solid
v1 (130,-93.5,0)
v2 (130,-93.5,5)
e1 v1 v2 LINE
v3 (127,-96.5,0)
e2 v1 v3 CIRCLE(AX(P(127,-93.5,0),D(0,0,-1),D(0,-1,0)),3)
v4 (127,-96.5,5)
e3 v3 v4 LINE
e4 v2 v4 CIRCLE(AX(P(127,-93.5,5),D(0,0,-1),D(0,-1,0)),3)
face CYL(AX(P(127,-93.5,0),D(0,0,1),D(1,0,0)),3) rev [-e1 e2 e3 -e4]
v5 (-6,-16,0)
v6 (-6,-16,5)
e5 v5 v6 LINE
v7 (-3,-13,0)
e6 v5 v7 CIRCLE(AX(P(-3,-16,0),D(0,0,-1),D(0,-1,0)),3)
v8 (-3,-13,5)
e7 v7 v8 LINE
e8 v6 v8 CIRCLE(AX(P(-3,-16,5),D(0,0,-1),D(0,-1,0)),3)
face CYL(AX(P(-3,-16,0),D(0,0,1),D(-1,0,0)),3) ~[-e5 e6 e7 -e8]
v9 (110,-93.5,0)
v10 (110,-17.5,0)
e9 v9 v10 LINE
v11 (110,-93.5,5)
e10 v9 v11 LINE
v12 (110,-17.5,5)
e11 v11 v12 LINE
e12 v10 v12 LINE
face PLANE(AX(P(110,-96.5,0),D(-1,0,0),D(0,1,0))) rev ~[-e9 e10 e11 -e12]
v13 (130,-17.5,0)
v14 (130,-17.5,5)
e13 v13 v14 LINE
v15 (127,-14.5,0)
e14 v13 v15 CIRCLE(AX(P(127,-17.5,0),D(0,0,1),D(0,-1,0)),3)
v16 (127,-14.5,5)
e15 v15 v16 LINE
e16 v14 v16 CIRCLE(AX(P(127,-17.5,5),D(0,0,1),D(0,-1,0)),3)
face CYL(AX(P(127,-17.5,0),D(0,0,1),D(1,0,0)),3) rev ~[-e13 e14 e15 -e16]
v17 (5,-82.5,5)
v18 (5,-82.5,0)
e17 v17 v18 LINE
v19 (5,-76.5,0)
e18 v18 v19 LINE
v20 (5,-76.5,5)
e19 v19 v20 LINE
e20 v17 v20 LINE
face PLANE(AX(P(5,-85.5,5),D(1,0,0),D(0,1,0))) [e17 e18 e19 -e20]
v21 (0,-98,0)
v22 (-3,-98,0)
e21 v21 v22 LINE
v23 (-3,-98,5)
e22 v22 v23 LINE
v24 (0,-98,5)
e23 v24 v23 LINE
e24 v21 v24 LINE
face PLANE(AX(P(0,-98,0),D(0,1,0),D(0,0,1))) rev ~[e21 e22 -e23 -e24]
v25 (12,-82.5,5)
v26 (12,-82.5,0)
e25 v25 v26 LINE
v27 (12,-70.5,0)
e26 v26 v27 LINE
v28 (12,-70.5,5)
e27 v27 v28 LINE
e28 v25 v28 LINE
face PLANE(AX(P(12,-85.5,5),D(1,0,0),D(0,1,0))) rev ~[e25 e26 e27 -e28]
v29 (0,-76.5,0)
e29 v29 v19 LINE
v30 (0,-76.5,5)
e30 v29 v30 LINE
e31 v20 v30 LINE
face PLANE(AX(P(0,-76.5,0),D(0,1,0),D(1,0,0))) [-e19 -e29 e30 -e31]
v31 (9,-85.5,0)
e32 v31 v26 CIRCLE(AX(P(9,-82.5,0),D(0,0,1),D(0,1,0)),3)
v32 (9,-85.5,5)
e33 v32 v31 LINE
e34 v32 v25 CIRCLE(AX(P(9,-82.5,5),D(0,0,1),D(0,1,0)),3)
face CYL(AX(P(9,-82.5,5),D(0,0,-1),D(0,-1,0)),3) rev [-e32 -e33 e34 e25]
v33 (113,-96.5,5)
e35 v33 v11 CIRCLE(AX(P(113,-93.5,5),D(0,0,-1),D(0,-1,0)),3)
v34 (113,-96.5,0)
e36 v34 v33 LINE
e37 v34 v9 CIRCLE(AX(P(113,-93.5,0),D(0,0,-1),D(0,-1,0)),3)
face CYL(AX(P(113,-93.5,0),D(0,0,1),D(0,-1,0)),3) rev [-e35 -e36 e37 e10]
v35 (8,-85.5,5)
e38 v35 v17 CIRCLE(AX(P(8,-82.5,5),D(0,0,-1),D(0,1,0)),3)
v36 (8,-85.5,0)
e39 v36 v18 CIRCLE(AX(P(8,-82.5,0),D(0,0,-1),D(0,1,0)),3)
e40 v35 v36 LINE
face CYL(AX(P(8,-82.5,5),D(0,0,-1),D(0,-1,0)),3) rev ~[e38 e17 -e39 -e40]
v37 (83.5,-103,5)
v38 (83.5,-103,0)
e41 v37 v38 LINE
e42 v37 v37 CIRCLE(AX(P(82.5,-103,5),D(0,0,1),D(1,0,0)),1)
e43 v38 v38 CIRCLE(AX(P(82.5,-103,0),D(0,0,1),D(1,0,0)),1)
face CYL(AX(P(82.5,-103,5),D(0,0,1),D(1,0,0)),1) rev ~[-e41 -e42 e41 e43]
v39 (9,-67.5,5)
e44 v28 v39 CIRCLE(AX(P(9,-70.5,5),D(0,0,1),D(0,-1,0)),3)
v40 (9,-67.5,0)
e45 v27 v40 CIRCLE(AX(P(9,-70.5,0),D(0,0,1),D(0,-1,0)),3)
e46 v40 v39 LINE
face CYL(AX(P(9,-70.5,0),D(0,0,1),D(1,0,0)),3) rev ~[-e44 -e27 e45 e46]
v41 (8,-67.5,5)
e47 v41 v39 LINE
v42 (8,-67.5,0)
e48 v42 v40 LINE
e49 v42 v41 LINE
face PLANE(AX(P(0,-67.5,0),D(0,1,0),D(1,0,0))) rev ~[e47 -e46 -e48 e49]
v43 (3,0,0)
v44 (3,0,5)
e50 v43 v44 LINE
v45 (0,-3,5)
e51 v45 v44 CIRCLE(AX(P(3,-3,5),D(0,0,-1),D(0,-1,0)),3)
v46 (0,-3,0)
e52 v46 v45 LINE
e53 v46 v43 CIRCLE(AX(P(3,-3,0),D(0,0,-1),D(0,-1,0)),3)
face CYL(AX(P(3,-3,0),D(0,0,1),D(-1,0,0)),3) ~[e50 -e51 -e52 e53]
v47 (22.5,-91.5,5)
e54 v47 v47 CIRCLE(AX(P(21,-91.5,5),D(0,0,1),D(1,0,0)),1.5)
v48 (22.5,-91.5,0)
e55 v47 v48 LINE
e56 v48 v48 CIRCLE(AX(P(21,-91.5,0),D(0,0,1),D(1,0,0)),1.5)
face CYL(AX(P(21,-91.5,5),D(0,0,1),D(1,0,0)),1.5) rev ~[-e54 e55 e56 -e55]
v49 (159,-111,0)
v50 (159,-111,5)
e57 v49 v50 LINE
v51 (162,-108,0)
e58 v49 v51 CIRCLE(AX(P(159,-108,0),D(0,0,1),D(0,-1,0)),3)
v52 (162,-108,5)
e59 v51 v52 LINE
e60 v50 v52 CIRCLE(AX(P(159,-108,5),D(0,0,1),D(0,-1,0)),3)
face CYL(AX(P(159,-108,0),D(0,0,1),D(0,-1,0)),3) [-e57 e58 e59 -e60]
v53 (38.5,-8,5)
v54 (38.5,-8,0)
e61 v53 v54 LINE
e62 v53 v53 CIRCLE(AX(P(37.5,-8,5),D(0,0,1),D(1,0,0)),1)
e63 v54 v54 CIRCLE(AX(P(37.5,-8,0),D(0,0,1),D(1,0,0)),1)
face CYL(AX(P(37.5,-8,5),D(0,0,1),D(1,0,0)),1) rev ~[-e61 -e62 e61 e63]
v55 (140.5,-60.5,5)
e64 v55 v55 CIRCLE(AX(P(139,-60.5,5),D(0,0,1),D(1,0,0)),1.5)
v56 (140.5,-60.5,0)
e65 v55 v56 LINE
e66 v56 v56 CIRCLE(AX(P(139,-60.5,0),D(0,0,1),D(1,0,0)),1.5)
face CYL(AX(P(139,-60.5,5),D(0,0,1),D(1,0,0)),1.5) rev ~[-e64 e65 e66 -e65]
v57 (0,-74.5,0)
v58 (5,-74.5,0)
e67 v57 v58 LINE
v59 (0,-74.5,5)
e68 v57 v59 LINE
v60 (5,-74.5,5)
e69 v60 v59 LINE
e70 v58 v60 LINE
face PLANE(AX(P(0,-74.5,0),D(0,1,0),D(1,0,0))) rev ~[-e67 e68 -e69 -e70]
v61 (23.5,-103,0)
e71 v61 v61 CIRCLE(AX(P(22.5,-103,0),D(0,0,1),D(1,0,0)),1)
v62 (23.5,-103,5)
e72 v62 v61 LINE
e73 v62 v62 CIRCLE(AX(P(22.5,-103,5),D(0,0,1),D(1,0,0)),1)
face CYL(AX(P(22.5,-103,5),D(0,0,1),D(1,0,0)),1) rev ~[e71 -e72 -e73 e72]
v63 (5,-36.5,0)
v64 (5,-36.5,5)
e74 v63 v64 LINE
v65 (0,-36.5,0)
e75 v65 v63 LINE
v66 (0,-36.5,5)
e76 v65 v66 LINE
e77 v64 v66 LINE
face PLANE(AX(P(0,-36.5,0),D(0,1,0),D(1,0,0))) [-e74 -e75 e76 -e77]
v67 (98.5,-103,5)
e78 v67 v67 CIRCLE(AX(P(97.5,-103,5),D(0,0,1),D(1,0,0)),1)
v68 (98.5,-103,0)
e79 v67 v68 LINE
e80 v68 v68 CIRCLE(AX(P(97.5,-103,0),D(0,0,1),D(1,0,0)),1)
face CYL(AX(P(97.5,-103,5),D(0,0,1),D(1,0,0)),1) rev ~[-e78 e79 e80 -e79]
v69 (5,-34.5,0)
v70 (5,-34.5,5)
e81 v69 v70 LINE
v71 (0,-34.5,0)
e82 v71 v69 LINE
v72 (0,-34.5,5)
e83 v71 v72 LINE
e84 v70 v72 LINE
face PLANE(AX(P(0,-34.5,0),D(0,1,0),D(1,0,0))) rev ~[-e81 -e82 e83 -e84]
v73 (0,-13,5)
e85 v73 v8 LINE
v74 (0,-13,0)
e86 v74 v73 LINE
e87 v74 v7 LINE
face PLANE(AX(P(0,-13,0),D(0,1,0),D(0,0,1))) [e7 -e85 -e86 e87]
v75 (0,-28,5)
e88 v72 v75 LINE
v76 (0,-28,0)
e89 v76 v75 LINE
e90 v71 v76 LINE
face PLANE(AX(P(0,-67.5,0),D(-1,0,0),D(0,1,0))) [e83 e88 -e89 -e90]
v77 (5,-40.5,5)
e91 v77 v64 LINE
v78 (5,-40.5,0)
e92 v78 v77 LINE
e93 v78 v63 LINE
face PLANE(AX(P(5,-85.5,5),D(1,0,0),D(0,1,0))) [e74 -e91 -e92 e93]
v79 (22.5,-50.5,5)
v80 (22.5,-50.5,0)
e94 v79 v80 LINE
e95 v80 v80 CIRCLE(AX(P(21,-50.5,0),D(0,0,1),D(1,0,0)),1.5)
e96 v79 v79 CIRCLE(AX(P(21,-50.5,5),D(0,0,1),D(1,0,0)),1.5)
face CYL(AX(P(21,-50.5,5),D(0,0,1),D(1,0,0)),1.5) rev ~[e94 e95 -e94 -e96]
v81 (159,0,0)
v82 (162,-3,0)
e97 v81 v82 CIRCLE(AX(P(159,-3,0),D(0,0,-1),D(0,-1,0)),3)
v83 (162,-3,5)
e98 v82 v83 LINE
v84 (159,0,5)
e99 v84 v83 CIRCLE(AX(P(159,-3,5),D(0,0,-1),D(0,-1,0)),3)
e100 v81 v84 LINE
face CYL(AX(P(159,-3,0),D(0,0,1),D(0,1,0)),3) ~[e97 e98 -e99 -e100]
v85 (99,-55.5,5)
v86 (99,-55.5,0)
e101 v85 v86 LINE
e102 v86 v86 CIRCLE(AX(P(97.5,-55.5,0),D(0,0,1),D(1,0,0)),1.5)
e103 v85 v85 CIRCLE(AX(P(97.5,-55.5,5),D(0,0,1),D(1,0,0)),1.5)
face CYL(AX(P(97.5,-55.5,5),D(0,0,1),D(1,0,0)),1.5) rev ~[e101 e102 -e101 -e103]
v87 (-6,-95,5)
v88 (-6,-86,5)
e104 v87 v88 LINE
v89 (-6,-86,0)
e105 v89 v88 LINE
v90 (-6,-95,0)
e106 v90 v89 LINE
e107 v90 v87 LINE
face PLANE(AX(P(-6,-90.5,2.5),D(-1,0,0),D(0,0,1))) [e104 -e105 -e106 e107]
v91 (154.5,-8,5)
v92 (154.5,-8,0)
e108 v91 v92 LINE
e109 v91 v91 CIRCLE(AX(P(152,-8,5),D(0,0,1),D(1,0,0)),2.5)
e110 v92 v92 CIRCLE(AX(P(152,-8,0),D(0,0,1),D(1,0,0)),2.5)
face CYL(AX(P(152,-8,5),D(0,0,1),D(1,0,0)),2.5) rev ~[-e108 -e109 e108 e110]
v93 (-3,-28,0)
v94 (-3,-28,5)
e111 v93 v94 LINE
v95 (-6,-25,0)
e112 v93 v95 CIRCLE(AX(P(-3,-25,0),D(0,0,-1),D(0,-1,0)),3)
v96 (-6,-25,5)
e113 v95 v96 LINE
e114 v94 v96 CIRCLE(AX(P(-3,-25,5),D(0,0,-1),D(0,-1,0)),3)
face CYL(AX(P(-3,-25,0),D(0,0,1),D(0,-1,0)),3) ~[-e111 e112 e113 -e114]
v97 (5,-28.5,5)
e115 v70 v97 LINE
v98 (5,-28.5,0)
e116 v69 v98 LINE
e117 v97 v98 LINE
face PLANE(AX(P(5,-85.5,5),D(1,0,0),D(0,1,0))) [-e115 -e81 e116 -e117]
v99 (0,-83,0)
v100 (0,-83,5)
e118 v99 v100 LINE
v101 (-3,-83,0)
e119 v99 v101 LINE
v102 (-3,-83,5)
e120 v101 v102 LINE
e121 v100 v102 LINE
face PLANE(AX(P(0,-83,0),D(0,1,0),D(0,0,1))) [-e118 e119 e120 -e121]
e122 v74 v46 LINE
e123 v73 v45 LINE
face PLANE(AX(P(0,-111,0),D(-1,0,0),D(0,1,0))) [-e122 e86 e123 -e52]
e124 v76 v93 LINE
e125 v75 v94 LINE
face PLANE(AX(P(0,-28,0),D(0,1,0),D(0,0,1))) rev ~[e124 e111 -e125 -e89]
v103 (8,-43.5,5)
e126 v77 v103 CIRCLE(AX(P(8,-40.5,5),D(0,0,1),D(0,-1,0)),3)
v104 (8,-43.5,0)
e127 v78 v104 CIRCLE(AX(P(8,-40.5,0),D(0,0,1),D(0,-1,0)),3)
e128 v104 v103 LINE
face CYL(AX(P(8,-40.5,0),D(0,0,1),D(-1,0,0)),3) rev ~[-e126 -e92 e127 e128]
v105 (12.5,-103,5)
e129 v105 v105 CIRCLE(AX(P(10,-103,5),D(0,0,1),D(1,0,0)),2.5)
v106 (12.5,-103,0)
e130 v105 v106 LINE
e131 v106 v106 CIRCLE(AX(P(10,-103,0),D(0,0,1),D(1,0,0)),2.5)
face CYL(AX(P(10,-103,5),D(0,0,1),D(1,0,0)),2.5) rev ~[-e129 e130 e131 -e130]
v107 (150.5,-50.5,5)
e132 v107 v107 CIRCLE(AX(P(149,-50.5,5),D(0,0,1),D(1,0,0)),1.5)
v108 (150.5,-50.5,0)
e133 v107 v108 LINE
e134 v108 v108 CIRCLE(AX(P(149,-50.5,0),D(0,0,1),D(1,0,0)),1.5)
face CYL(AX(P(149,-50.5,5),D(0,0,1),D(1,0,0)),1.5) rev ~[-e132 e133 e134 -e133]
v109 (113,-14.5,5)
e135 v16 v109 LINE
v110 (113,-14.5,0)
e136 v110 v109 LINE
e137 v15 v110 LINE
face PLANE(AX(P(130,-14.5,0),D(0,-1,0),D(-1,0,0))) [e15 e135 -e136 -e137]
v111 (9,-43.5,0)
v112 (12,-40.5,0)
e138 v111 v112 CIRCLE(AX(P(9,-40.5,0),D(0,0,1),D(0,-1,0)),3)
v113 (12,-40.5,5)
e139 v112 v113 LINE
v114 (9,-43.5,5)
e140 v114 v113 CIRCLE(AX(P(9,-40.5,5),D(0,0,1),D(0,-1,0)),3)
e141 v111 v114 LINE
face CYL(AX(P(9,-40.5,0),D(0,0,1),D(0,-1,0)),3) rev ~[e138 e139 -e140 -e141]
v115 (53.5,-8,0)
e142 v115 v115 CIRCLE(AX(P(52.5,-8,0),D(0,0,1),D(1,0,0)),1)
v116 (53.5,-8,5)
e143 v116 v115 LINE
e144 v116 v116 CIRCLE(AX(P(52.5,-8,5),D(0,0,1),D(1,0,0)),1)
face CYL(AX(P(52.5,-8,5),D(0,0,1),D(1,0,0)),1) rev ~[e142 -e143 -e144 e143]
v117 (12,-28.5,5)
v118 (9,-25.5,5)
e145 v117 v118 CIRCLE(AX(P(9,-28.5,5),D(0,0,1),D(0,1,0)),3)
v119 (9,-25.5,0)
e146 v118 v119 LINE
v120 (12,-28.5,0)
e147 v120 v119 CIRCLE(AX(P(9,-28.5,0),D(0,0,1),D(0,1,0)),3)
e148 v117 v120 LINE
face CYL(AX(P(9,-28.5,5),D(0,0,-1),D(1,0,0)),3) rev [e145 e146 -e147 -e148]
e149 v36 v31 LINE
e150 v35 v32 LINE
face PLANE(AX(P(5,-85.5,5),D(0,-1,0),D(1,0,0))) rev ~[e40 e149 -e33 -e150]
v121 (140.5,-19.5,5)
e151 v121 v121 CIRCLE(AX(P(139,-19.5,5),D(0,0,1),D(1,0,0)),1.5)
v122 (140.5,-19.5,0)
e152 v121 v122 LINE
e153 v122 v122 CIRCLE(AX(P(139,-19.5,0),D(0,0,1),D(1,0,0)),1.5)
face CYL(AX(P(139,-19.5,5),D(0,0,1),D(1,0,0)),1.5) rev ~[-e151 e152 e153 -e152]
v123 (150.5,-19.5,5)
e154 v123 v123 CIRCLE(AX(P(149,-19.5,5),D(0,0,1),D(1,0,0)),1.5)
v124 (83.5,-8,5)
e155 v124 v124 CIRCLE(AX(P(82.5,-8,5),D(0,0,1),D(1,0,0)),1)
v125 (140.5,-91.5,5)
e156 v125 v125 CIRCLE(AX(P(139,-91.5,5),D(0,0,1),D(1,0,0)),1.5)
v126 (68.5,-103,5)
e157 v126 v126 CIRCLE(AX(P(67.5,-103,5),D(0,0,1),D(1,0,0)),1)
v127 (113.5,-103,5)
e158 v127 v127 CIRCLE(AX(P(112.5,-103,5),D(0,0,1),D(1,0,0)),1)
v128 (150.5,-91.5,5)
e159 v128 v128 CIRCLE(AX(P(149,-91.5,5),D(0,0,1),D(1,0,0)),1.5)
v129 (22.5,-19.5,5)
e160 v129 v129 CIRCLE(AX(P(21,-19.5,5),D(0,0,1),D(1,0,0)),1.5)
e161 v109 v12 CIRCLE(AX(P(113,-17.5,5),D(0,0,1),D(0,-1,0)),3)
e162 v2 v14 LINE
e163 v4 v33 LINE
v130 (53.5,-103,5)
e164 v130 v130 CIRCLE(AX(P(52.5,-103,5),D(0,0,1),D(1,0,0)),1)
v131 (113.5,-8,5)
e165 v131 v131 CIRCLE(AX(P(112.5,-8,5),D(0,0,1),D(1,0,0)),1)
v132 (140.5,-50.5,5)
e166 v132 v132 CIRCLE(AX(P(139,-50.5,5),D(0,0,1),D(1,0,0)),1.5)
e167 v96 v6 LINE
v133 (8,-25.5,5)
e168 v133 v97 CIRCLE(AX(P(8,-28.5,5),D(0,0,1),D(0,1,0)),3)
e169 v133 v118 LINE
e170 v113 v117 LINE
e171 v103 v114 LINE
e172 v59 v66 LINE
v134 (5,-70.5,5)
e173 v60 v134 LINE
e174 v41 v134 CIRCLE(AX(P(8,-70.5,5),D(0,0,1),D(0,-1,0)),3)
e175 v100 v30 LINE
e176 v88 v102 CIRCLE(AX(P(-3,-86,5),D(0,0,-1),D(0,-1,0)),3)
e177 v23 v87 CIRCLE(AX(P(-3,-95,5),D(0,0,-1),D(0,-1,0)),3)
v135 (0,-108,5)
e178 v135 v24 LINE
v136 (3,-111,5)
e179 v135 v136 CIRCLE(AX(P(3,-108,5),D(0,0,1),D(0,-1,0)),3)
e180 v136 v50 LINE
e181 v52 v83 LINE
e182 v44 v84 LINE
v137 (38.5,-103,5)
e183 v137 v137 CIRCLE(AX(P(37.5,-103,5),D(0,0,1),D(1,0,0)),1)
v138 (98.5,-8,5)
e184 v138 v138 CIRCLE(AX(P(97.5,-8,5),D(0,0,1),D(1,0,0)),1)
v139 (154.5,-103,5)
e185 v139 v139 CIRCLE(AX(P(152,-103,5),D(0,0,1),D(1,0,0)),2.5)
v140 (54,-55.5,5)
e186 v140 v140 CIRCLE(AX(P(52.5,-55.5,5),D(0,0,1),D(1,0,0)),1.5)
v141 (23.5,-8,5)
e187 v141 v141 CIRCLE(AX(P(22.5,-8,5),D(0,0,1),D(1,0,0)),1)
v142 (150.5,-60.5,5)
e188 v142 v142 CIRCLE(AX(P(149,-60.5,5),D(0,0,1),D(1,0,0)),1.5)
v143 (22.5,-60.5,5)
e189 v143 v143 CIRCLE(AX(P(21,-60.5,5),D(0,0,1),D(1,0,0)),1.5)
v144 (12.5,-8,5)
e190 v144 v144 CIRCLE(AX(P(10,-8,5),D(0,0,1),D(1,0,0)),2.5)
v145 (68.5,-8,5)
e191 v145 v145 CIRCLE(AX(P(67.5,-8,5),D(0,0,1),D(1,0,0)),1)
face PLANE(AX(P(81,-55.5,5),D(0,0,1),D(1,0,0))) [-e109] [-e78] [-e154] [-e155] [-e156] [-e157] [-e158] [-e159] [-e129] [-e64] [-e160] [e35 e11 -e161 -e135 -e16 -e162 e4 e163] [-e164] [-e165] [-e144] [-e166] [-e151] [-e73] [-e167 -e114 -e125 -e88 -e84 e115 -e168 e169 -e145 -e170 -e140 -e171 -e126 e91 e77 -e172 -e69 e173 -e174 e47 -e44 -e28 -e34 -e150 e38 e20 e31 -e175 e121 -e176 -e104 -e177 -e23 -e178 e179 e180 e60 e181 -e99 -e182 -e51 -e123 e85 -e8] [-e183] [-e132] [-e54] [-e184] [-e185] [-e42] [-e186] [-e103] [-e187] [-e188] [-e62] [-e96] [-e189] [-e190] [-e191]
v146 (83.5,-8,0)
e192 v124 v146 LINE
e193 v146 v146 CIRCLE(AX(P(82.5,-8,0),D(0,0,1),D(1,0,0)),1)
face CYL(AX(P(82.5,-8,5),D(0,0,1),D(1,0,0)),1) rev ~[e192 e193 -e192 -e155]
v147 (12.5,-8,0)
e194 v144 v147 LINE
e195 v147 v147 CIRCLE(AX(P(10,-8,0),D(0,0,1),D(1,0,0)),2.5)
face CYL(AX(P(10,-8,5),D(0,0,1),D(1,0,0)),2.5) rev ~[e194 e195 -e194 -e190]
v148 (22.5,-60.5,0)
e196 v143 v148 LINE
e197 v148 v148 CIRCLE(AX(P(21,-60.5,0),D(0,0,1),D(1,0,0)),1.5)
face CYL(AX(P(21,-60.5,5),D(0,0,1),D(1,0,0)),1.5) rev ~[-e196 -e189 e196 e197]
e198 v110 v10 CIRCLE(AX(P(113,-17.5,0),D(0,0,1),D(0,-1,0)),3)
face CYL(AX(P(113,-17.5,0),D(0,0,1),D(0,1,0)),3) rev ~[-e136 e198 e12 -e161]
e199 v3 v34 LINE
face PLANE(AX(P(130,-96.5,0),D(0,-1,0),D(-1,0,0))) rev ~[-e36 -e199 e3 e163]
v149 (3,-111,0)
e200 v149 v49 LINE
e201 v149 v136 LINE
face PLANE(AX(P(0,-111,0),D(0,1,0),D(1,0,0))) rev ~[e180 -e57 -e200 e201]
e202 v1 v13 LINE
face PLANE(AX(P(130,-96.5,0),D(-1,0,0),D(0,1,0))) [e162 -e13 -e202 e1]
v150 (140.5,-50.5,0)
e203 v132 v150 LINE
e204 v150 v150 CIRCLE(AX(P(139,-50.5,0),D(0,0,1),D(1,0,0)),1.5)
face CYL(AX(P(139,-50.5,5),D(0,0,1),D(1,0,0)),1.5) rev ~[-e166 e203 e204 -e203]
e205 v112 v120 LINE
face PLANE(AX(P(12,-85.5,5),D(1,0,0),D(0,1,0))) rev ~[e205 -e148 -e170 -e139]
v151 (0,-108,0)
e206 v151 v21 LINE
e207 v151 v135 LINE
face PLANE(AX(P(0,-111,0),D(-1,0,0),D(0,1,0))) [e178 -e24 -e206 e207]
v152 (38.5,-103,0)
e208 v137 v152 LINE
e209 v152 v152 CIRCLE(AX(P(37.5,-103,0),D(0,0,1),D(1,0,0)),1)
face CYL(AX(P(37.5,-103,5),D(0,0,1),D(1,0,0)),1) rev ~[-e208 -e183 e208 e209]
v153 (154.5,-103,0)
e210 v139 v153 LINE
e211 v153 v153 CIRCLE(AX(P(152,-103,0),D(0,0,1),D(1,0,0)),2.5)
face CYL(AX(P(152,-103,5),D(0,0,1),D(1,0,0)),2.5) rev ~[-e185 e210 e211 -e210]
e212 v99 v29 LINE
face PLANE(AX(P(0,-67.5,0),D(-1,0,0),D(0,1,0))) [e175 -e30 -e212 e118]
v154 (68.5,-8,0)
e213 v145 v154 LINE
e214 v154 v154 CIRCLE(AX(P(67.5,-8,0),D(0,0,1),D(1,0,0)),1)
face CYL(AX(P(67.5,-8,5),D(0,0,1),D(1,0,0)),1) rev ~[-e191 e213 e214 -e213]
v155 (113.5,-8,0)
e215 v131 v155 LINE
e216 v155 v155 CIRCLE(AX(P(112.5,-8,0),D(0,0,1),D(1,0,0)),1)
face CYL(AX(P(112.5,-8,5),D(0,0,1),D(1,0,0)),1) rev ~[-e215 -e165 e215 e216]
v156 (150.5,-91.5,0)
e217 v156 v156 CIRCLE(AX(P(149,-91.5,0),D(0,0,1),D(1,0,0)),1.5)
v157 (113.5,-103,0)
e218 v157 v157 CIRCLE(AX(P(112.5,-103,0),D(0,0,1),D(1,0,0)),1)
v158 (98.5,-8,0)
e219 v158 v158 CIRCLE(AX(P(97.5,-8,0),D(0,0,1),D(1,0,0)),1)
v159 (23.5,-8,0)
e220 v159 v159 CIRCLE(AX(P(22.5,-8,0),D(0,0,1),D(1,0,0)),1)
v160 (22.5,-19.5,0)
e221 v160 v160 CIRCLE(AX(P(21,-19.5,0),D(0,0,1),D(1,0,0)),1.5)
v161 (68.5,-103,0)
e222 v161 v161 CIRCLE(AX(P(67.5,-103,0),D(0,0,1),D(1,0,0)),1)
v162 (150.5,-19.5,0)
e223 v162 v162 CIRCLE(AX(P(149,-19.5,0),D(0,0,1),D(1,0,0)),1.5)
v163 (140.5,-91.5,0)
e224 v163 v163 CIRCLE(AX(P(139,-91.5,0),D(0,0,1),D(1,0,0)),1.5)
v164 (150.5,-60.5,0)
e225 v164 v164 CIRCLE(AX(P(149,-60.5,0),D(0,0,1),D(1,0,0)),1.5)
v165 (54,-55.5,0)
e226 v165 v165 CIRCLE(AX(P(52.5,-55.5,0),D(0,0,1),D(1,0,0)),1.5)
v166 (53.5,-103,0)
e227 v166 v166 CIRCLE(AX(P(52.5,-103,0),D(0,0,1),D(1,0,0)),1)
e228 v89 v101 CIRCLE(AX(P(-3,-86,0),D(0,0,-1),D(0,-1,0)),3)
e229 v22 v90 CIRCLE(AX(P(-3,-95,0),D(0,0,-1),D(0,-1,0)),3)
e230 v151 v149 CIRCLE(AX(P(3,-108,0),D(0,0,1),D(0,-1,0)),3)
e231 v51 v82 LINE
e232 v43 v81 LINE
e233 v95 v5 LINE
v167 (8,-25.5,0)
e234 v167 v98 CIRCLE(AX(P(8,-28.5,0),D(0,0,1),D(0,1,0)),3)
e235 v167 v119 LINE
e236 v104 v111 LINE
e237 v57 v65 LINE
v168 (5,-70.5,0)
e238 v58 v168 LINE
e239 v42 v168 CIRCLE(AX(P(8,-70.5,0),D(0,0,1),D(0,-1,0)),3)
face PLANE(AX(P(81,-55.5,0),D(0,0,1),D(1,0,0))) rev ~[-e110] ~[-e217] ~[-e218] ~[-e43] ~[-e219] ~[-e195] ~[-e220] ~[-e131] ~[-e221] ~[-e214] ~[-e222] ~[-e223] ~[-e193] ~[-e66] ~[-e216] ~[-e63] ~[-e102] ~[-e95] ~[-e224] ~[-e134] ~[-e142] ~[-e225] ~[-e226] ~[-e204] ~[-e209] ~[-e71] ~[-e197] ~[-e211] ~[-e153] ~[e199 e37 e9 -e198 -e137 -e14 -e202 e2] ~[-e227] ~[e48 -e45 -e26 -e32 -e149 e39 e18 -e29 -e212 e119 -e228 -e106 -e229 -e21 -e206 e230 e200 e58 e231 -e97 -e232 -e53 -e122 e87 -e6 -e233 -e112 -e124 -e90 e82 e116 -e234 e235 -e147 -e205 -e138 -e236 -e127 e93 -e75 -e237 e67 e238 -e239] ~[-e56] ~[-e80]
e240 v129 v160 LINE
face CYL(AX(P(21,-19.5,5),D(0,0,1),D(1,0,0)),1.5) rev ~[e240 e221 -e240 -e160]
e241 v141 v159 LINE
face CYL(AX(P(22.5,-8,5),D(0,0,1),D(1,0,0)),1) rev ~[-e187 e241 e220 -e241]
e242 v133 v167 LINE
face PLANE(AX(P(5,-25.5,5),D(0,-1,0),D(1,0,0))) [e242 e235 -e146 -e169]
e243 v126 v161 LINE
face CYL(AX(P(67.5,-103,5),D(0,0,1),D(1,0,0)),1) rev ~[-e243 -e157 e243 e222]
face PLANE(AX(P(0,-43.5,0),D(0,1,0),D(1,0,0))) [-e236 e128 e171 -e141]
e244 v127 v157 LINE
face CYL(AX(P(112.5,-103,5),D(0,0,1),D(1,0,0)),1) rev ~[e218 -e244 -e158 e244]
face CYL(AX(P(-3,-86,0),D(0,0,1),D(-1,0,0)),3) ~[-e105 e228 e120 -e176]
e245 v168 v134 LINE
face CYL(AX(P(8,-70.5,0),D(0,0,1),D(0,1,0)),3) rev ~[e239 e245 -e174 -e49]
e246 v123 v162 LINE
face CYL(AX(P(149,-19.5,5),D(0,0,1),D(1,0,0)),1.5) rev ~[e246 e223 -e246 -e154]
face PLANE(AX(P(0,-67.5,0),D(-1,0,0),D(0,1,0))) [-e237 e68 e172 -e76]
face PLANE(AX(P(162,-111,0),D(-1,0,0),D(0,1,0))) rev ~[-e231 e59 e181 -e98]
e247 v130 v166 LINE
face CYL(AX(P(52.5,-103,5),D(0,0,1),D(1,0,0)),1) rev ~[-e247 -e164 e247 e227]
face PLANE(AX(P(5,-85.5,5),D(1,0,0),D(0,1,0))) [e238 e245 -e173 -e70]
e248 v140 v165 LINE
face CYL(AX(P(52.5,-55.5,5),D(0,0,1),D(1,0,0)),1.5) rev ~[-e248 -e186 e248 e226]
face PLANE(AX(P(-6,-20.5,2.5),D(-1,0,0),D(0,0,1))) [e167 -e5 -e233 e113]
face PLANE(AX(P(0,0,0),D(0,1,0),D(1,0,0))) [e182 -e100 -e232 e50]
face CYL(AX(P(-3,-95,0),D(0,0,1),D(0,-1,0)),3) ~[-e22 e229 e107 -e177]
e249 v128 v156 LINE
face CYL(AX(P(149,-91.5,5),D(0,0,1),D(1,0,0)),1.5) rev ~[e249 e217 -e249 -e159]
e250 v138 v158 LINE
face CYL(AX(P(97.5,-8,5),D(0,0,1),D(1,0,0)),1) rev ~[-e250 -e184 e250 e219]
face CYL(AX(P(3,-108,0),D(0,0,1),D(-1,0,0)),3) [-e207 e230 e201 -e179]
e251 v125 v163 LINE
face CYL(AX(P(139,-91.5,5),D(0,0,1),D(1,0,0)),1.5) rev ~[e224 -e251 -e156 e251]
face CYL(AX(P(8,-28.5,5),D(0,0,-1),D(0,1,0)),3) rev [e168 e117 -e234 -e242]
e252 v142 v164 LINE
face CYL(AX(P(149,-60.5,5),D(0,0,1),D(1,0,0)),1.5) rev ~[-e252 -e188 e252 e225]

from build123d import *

# Parameters (mm, degrees)
SKETCH_1_W          = 162
SKETCH_1_H          = 111
EXTRUDE_1_DEPTH     = 5
CUT_EXTRUDE_1_REACH = 198.443
SKETCH_2_W          = 20
SKETCH_2_H          = 82
SKETCH_3_R          = 1.5
SKETCH_3_R_2        = 1
SKETCH_3_R_3        = 2.5
SKETCH_3_W          = 7
SKETCH_3_H          = 60
CUT_EXTRUDE_2_DEPTH = 5
FILLET_1_R          = 3
SKETCH1_W           = 5
SKETCH1_H           = 15
BOSS_EXTRUDE1_DEPTH = 6
SKETCH2_W           = 12
SKETCH2_H           = 24
BOSS_EXTRUDE2_DEPTH = 5
SKETCH3_W           = 5
SKETCH3_H           = 2
CUT_EXTRUDE2_DEPTH  = 197.443376065
FILLET1_R           = 3


with BuildPart() as part:
    # 草图1 → 凸台-拉伸1 (new body)
    with BuildSketch(Plane.XY):
        with Locations((81, -55.5)):
            Rectangle(SKETCH_1_W, SKETCH_1_H)
    extrude(amount=EXTRUDE_1_DEPTH)

    # 草图2 → 切除-拉伸1 (cut, up to next)
    with BuildSketch(Plane(origin=(0, 0, 0), x_dir=(-1, 0, 0), z_dir=(0, 0, -1)), mode=Mode.PRIVATE) as cut_extrude_1_sk1:
        with Locations((-120, -55.5)):
            Rectangle(SKETCH_2_W, SKETCH_2_H)
    cut_extrude_1_tool1 = extrude(cut_extrude_1_sk1.sketch, amount=-CUT_EXTRUDE_1_REACH, mode=Mode.PRIVATE) & part.part
    add(cut_extrude_1_tool1.solids().sort_by_distance((120, -55.5, 0))[0], mode=Mode.SUBTRACT)

    # 草图3 → 切除-拉伸2 (cut)
    with BuildSketch(Plane.XY.offset(5)):
        with Locations((149, -60.5)):
            Circle(SKETCH_3_R)
        with Locations((139, -60.5)):
            Circle(SKETCH_3_R)
        with Locations((149, -91.5)):
            Circle(SKETCH_3_R)
        with Locations((139, -91.5)):
            Circle(SKETCH_3_R)
        with Locations((149, -50.5)):
            Circle(SKETCH_3_R)
        with Locations((139, -50.5)):
            Circle(SKETCH_3_R)
        with Locations((22.5, -103)):
            Circle(SKETCH_3_R_2)
        with Locations((22.5, -8)):
            Circle(SKETCH_3_R_2)
        with Locations((21, -60.5)):
            Circle(SKETCH_3_R)
        with Locations((21, -91.5)):
            Circle(SKETCH_3_R)
        with Locations((21, -50.5)):
            Circle(SKETCH_3_R)
        with Locations((21, -19.5)):
            Circle(SKETCH_3_R)
        with Locations((10, -8)):
            Circle(SKETCH_3_R_3)
        with Locations((152, -8)):
            Circle(SKETCH_3_R_3)
        with Locations((152, -103)):
            Circle(SKETCH_3_R_3)
        with Locations((10, -103)):
            Circle(SKETCH_3_R_3)
        with Locations((37.5, -103)):
            Circle(SKETCH_3_R_2)
        with Locations((52.5, -103)):
            Circle(SKETCH_3_R_2)
        with Locations((67.5, -103)):
            Circle(SKETCH_3_R_2)
        with Locations((82.5, -103)):
            Circle(SKETCH_3_R_2)
        with Locations((97.5, -103)):
            Circle(SKETCH_3_R_2)
        with Locations((37.5, -8)):
            Circle(SKETCH_3_R_2)
        with Locations((52.5, -8)):
            Circle(SKETCH_3_R_2)
        with Locations((67.5, -8)):
            Circle(SKETCH_3_R_2)
        with Locations((82.5, -8)):
            Circle(SKETCH_3_R_2)
        with Locations((97.5, -8)):
            Circle(SKETCH_3_R_2)
        with Locations((112.5, -8)):
            Circle(SKETCH_3_R_2)
        with Locations((139, -19.5)):
            Circle(SKETCH_3_R)
        with Locations((149, -19.5)):
            Circle(SKETCH_3_R)
        with Locations((112.5, -103)):
            Circle(SKETCH_3_R_2)
        with Locations((52.5, -55.5)):
            Circle(SKETCH_3_R)
        with Locations((97.5, -55.5)):
            Circle(SKETCH_3_R)
        with Locations((8.5, -55.5)):
            Rectangle(SKETCH_3_W, SKETCH_3_H)
    extrude(amount=-CUT_EXTRUDE_2_DEPTH, mode=Mode.SUBTRACT)

    # 圆角1
    fillet_1_edges = [part.edges().sort_by_distance(p)[0] for p in [
        (5, -25.5, 2.5),
        (12, -25.5, 2.5),
        (12, -85.5, 2.5),
        (5, -85.5, 2.5),
        (110, -96.5, 2.5),
        (130, -96.5, 2.5),
        (130, -14.5, 2.5),
        (110, -14.5, 2.5),
        (0, 0, 2.5),
        (162, 0, 2.5),
        (162, -111, 2.5),
        (0, -111, 2.5),
    ]]
    fillet(fillet_1_edges, radius=FILLET_1_R)

    # Sketch1 → Boss-Extrude1 (add)
    with BuildSketch(Plane.ZY):
        with Locations((2.5, -90.5)):
            Rectangle(SKETCH1_W, SKETCH1_H)
        with Locations((2.5, -20.5)):
            Rectangle(SKETCH1_W, SKETCH1_H)
    extrude(amount=BOSS_EXTRUDE1_DEPTH)

    # Sketch2 → Boss-Extrude2 (add)
    with BuildSketch(Plane.XY):
        with Locations((6, -55.5)):
            Rectangle(SKETCH2_W, SKETCH2_H)
    extrude(amount=BOSS_EXTRUDE2_DEPTH)

    # Sketch3 → Cut-Extrude2 (cut, through all)
    with BuildSketch(Plane.XY):
        with Locations((2.5, -35.5)):
            Rectangle(SKETCH3_W, SKETCH3_H)
        with Locations((2.5, -75.5)):
            Rectangle(SKETCH3_W, SKETCH3_H)
    extrude(amount=CUT_EXTRUDE2_DEPTH, mode=Mode.SUBTRACT)

    # Fillet1
    fillet1_edges = [part.edges().sort_by_distance(p)[0] for p in [
        (-6, -13, 2.5),
        (-6, -28, 2.5),
        (-6, -98, 2.5),
        (-6, -83, 2.5),
        (5, -67.5, 2.5),
        (5, -43.5, 2.5),
        (12, -43.5, 2.5),
        (12, -67.5, 2.5),
    ]]
    fillet(fillet1_edges, radius=FILLET1_R)


solid = part.part
